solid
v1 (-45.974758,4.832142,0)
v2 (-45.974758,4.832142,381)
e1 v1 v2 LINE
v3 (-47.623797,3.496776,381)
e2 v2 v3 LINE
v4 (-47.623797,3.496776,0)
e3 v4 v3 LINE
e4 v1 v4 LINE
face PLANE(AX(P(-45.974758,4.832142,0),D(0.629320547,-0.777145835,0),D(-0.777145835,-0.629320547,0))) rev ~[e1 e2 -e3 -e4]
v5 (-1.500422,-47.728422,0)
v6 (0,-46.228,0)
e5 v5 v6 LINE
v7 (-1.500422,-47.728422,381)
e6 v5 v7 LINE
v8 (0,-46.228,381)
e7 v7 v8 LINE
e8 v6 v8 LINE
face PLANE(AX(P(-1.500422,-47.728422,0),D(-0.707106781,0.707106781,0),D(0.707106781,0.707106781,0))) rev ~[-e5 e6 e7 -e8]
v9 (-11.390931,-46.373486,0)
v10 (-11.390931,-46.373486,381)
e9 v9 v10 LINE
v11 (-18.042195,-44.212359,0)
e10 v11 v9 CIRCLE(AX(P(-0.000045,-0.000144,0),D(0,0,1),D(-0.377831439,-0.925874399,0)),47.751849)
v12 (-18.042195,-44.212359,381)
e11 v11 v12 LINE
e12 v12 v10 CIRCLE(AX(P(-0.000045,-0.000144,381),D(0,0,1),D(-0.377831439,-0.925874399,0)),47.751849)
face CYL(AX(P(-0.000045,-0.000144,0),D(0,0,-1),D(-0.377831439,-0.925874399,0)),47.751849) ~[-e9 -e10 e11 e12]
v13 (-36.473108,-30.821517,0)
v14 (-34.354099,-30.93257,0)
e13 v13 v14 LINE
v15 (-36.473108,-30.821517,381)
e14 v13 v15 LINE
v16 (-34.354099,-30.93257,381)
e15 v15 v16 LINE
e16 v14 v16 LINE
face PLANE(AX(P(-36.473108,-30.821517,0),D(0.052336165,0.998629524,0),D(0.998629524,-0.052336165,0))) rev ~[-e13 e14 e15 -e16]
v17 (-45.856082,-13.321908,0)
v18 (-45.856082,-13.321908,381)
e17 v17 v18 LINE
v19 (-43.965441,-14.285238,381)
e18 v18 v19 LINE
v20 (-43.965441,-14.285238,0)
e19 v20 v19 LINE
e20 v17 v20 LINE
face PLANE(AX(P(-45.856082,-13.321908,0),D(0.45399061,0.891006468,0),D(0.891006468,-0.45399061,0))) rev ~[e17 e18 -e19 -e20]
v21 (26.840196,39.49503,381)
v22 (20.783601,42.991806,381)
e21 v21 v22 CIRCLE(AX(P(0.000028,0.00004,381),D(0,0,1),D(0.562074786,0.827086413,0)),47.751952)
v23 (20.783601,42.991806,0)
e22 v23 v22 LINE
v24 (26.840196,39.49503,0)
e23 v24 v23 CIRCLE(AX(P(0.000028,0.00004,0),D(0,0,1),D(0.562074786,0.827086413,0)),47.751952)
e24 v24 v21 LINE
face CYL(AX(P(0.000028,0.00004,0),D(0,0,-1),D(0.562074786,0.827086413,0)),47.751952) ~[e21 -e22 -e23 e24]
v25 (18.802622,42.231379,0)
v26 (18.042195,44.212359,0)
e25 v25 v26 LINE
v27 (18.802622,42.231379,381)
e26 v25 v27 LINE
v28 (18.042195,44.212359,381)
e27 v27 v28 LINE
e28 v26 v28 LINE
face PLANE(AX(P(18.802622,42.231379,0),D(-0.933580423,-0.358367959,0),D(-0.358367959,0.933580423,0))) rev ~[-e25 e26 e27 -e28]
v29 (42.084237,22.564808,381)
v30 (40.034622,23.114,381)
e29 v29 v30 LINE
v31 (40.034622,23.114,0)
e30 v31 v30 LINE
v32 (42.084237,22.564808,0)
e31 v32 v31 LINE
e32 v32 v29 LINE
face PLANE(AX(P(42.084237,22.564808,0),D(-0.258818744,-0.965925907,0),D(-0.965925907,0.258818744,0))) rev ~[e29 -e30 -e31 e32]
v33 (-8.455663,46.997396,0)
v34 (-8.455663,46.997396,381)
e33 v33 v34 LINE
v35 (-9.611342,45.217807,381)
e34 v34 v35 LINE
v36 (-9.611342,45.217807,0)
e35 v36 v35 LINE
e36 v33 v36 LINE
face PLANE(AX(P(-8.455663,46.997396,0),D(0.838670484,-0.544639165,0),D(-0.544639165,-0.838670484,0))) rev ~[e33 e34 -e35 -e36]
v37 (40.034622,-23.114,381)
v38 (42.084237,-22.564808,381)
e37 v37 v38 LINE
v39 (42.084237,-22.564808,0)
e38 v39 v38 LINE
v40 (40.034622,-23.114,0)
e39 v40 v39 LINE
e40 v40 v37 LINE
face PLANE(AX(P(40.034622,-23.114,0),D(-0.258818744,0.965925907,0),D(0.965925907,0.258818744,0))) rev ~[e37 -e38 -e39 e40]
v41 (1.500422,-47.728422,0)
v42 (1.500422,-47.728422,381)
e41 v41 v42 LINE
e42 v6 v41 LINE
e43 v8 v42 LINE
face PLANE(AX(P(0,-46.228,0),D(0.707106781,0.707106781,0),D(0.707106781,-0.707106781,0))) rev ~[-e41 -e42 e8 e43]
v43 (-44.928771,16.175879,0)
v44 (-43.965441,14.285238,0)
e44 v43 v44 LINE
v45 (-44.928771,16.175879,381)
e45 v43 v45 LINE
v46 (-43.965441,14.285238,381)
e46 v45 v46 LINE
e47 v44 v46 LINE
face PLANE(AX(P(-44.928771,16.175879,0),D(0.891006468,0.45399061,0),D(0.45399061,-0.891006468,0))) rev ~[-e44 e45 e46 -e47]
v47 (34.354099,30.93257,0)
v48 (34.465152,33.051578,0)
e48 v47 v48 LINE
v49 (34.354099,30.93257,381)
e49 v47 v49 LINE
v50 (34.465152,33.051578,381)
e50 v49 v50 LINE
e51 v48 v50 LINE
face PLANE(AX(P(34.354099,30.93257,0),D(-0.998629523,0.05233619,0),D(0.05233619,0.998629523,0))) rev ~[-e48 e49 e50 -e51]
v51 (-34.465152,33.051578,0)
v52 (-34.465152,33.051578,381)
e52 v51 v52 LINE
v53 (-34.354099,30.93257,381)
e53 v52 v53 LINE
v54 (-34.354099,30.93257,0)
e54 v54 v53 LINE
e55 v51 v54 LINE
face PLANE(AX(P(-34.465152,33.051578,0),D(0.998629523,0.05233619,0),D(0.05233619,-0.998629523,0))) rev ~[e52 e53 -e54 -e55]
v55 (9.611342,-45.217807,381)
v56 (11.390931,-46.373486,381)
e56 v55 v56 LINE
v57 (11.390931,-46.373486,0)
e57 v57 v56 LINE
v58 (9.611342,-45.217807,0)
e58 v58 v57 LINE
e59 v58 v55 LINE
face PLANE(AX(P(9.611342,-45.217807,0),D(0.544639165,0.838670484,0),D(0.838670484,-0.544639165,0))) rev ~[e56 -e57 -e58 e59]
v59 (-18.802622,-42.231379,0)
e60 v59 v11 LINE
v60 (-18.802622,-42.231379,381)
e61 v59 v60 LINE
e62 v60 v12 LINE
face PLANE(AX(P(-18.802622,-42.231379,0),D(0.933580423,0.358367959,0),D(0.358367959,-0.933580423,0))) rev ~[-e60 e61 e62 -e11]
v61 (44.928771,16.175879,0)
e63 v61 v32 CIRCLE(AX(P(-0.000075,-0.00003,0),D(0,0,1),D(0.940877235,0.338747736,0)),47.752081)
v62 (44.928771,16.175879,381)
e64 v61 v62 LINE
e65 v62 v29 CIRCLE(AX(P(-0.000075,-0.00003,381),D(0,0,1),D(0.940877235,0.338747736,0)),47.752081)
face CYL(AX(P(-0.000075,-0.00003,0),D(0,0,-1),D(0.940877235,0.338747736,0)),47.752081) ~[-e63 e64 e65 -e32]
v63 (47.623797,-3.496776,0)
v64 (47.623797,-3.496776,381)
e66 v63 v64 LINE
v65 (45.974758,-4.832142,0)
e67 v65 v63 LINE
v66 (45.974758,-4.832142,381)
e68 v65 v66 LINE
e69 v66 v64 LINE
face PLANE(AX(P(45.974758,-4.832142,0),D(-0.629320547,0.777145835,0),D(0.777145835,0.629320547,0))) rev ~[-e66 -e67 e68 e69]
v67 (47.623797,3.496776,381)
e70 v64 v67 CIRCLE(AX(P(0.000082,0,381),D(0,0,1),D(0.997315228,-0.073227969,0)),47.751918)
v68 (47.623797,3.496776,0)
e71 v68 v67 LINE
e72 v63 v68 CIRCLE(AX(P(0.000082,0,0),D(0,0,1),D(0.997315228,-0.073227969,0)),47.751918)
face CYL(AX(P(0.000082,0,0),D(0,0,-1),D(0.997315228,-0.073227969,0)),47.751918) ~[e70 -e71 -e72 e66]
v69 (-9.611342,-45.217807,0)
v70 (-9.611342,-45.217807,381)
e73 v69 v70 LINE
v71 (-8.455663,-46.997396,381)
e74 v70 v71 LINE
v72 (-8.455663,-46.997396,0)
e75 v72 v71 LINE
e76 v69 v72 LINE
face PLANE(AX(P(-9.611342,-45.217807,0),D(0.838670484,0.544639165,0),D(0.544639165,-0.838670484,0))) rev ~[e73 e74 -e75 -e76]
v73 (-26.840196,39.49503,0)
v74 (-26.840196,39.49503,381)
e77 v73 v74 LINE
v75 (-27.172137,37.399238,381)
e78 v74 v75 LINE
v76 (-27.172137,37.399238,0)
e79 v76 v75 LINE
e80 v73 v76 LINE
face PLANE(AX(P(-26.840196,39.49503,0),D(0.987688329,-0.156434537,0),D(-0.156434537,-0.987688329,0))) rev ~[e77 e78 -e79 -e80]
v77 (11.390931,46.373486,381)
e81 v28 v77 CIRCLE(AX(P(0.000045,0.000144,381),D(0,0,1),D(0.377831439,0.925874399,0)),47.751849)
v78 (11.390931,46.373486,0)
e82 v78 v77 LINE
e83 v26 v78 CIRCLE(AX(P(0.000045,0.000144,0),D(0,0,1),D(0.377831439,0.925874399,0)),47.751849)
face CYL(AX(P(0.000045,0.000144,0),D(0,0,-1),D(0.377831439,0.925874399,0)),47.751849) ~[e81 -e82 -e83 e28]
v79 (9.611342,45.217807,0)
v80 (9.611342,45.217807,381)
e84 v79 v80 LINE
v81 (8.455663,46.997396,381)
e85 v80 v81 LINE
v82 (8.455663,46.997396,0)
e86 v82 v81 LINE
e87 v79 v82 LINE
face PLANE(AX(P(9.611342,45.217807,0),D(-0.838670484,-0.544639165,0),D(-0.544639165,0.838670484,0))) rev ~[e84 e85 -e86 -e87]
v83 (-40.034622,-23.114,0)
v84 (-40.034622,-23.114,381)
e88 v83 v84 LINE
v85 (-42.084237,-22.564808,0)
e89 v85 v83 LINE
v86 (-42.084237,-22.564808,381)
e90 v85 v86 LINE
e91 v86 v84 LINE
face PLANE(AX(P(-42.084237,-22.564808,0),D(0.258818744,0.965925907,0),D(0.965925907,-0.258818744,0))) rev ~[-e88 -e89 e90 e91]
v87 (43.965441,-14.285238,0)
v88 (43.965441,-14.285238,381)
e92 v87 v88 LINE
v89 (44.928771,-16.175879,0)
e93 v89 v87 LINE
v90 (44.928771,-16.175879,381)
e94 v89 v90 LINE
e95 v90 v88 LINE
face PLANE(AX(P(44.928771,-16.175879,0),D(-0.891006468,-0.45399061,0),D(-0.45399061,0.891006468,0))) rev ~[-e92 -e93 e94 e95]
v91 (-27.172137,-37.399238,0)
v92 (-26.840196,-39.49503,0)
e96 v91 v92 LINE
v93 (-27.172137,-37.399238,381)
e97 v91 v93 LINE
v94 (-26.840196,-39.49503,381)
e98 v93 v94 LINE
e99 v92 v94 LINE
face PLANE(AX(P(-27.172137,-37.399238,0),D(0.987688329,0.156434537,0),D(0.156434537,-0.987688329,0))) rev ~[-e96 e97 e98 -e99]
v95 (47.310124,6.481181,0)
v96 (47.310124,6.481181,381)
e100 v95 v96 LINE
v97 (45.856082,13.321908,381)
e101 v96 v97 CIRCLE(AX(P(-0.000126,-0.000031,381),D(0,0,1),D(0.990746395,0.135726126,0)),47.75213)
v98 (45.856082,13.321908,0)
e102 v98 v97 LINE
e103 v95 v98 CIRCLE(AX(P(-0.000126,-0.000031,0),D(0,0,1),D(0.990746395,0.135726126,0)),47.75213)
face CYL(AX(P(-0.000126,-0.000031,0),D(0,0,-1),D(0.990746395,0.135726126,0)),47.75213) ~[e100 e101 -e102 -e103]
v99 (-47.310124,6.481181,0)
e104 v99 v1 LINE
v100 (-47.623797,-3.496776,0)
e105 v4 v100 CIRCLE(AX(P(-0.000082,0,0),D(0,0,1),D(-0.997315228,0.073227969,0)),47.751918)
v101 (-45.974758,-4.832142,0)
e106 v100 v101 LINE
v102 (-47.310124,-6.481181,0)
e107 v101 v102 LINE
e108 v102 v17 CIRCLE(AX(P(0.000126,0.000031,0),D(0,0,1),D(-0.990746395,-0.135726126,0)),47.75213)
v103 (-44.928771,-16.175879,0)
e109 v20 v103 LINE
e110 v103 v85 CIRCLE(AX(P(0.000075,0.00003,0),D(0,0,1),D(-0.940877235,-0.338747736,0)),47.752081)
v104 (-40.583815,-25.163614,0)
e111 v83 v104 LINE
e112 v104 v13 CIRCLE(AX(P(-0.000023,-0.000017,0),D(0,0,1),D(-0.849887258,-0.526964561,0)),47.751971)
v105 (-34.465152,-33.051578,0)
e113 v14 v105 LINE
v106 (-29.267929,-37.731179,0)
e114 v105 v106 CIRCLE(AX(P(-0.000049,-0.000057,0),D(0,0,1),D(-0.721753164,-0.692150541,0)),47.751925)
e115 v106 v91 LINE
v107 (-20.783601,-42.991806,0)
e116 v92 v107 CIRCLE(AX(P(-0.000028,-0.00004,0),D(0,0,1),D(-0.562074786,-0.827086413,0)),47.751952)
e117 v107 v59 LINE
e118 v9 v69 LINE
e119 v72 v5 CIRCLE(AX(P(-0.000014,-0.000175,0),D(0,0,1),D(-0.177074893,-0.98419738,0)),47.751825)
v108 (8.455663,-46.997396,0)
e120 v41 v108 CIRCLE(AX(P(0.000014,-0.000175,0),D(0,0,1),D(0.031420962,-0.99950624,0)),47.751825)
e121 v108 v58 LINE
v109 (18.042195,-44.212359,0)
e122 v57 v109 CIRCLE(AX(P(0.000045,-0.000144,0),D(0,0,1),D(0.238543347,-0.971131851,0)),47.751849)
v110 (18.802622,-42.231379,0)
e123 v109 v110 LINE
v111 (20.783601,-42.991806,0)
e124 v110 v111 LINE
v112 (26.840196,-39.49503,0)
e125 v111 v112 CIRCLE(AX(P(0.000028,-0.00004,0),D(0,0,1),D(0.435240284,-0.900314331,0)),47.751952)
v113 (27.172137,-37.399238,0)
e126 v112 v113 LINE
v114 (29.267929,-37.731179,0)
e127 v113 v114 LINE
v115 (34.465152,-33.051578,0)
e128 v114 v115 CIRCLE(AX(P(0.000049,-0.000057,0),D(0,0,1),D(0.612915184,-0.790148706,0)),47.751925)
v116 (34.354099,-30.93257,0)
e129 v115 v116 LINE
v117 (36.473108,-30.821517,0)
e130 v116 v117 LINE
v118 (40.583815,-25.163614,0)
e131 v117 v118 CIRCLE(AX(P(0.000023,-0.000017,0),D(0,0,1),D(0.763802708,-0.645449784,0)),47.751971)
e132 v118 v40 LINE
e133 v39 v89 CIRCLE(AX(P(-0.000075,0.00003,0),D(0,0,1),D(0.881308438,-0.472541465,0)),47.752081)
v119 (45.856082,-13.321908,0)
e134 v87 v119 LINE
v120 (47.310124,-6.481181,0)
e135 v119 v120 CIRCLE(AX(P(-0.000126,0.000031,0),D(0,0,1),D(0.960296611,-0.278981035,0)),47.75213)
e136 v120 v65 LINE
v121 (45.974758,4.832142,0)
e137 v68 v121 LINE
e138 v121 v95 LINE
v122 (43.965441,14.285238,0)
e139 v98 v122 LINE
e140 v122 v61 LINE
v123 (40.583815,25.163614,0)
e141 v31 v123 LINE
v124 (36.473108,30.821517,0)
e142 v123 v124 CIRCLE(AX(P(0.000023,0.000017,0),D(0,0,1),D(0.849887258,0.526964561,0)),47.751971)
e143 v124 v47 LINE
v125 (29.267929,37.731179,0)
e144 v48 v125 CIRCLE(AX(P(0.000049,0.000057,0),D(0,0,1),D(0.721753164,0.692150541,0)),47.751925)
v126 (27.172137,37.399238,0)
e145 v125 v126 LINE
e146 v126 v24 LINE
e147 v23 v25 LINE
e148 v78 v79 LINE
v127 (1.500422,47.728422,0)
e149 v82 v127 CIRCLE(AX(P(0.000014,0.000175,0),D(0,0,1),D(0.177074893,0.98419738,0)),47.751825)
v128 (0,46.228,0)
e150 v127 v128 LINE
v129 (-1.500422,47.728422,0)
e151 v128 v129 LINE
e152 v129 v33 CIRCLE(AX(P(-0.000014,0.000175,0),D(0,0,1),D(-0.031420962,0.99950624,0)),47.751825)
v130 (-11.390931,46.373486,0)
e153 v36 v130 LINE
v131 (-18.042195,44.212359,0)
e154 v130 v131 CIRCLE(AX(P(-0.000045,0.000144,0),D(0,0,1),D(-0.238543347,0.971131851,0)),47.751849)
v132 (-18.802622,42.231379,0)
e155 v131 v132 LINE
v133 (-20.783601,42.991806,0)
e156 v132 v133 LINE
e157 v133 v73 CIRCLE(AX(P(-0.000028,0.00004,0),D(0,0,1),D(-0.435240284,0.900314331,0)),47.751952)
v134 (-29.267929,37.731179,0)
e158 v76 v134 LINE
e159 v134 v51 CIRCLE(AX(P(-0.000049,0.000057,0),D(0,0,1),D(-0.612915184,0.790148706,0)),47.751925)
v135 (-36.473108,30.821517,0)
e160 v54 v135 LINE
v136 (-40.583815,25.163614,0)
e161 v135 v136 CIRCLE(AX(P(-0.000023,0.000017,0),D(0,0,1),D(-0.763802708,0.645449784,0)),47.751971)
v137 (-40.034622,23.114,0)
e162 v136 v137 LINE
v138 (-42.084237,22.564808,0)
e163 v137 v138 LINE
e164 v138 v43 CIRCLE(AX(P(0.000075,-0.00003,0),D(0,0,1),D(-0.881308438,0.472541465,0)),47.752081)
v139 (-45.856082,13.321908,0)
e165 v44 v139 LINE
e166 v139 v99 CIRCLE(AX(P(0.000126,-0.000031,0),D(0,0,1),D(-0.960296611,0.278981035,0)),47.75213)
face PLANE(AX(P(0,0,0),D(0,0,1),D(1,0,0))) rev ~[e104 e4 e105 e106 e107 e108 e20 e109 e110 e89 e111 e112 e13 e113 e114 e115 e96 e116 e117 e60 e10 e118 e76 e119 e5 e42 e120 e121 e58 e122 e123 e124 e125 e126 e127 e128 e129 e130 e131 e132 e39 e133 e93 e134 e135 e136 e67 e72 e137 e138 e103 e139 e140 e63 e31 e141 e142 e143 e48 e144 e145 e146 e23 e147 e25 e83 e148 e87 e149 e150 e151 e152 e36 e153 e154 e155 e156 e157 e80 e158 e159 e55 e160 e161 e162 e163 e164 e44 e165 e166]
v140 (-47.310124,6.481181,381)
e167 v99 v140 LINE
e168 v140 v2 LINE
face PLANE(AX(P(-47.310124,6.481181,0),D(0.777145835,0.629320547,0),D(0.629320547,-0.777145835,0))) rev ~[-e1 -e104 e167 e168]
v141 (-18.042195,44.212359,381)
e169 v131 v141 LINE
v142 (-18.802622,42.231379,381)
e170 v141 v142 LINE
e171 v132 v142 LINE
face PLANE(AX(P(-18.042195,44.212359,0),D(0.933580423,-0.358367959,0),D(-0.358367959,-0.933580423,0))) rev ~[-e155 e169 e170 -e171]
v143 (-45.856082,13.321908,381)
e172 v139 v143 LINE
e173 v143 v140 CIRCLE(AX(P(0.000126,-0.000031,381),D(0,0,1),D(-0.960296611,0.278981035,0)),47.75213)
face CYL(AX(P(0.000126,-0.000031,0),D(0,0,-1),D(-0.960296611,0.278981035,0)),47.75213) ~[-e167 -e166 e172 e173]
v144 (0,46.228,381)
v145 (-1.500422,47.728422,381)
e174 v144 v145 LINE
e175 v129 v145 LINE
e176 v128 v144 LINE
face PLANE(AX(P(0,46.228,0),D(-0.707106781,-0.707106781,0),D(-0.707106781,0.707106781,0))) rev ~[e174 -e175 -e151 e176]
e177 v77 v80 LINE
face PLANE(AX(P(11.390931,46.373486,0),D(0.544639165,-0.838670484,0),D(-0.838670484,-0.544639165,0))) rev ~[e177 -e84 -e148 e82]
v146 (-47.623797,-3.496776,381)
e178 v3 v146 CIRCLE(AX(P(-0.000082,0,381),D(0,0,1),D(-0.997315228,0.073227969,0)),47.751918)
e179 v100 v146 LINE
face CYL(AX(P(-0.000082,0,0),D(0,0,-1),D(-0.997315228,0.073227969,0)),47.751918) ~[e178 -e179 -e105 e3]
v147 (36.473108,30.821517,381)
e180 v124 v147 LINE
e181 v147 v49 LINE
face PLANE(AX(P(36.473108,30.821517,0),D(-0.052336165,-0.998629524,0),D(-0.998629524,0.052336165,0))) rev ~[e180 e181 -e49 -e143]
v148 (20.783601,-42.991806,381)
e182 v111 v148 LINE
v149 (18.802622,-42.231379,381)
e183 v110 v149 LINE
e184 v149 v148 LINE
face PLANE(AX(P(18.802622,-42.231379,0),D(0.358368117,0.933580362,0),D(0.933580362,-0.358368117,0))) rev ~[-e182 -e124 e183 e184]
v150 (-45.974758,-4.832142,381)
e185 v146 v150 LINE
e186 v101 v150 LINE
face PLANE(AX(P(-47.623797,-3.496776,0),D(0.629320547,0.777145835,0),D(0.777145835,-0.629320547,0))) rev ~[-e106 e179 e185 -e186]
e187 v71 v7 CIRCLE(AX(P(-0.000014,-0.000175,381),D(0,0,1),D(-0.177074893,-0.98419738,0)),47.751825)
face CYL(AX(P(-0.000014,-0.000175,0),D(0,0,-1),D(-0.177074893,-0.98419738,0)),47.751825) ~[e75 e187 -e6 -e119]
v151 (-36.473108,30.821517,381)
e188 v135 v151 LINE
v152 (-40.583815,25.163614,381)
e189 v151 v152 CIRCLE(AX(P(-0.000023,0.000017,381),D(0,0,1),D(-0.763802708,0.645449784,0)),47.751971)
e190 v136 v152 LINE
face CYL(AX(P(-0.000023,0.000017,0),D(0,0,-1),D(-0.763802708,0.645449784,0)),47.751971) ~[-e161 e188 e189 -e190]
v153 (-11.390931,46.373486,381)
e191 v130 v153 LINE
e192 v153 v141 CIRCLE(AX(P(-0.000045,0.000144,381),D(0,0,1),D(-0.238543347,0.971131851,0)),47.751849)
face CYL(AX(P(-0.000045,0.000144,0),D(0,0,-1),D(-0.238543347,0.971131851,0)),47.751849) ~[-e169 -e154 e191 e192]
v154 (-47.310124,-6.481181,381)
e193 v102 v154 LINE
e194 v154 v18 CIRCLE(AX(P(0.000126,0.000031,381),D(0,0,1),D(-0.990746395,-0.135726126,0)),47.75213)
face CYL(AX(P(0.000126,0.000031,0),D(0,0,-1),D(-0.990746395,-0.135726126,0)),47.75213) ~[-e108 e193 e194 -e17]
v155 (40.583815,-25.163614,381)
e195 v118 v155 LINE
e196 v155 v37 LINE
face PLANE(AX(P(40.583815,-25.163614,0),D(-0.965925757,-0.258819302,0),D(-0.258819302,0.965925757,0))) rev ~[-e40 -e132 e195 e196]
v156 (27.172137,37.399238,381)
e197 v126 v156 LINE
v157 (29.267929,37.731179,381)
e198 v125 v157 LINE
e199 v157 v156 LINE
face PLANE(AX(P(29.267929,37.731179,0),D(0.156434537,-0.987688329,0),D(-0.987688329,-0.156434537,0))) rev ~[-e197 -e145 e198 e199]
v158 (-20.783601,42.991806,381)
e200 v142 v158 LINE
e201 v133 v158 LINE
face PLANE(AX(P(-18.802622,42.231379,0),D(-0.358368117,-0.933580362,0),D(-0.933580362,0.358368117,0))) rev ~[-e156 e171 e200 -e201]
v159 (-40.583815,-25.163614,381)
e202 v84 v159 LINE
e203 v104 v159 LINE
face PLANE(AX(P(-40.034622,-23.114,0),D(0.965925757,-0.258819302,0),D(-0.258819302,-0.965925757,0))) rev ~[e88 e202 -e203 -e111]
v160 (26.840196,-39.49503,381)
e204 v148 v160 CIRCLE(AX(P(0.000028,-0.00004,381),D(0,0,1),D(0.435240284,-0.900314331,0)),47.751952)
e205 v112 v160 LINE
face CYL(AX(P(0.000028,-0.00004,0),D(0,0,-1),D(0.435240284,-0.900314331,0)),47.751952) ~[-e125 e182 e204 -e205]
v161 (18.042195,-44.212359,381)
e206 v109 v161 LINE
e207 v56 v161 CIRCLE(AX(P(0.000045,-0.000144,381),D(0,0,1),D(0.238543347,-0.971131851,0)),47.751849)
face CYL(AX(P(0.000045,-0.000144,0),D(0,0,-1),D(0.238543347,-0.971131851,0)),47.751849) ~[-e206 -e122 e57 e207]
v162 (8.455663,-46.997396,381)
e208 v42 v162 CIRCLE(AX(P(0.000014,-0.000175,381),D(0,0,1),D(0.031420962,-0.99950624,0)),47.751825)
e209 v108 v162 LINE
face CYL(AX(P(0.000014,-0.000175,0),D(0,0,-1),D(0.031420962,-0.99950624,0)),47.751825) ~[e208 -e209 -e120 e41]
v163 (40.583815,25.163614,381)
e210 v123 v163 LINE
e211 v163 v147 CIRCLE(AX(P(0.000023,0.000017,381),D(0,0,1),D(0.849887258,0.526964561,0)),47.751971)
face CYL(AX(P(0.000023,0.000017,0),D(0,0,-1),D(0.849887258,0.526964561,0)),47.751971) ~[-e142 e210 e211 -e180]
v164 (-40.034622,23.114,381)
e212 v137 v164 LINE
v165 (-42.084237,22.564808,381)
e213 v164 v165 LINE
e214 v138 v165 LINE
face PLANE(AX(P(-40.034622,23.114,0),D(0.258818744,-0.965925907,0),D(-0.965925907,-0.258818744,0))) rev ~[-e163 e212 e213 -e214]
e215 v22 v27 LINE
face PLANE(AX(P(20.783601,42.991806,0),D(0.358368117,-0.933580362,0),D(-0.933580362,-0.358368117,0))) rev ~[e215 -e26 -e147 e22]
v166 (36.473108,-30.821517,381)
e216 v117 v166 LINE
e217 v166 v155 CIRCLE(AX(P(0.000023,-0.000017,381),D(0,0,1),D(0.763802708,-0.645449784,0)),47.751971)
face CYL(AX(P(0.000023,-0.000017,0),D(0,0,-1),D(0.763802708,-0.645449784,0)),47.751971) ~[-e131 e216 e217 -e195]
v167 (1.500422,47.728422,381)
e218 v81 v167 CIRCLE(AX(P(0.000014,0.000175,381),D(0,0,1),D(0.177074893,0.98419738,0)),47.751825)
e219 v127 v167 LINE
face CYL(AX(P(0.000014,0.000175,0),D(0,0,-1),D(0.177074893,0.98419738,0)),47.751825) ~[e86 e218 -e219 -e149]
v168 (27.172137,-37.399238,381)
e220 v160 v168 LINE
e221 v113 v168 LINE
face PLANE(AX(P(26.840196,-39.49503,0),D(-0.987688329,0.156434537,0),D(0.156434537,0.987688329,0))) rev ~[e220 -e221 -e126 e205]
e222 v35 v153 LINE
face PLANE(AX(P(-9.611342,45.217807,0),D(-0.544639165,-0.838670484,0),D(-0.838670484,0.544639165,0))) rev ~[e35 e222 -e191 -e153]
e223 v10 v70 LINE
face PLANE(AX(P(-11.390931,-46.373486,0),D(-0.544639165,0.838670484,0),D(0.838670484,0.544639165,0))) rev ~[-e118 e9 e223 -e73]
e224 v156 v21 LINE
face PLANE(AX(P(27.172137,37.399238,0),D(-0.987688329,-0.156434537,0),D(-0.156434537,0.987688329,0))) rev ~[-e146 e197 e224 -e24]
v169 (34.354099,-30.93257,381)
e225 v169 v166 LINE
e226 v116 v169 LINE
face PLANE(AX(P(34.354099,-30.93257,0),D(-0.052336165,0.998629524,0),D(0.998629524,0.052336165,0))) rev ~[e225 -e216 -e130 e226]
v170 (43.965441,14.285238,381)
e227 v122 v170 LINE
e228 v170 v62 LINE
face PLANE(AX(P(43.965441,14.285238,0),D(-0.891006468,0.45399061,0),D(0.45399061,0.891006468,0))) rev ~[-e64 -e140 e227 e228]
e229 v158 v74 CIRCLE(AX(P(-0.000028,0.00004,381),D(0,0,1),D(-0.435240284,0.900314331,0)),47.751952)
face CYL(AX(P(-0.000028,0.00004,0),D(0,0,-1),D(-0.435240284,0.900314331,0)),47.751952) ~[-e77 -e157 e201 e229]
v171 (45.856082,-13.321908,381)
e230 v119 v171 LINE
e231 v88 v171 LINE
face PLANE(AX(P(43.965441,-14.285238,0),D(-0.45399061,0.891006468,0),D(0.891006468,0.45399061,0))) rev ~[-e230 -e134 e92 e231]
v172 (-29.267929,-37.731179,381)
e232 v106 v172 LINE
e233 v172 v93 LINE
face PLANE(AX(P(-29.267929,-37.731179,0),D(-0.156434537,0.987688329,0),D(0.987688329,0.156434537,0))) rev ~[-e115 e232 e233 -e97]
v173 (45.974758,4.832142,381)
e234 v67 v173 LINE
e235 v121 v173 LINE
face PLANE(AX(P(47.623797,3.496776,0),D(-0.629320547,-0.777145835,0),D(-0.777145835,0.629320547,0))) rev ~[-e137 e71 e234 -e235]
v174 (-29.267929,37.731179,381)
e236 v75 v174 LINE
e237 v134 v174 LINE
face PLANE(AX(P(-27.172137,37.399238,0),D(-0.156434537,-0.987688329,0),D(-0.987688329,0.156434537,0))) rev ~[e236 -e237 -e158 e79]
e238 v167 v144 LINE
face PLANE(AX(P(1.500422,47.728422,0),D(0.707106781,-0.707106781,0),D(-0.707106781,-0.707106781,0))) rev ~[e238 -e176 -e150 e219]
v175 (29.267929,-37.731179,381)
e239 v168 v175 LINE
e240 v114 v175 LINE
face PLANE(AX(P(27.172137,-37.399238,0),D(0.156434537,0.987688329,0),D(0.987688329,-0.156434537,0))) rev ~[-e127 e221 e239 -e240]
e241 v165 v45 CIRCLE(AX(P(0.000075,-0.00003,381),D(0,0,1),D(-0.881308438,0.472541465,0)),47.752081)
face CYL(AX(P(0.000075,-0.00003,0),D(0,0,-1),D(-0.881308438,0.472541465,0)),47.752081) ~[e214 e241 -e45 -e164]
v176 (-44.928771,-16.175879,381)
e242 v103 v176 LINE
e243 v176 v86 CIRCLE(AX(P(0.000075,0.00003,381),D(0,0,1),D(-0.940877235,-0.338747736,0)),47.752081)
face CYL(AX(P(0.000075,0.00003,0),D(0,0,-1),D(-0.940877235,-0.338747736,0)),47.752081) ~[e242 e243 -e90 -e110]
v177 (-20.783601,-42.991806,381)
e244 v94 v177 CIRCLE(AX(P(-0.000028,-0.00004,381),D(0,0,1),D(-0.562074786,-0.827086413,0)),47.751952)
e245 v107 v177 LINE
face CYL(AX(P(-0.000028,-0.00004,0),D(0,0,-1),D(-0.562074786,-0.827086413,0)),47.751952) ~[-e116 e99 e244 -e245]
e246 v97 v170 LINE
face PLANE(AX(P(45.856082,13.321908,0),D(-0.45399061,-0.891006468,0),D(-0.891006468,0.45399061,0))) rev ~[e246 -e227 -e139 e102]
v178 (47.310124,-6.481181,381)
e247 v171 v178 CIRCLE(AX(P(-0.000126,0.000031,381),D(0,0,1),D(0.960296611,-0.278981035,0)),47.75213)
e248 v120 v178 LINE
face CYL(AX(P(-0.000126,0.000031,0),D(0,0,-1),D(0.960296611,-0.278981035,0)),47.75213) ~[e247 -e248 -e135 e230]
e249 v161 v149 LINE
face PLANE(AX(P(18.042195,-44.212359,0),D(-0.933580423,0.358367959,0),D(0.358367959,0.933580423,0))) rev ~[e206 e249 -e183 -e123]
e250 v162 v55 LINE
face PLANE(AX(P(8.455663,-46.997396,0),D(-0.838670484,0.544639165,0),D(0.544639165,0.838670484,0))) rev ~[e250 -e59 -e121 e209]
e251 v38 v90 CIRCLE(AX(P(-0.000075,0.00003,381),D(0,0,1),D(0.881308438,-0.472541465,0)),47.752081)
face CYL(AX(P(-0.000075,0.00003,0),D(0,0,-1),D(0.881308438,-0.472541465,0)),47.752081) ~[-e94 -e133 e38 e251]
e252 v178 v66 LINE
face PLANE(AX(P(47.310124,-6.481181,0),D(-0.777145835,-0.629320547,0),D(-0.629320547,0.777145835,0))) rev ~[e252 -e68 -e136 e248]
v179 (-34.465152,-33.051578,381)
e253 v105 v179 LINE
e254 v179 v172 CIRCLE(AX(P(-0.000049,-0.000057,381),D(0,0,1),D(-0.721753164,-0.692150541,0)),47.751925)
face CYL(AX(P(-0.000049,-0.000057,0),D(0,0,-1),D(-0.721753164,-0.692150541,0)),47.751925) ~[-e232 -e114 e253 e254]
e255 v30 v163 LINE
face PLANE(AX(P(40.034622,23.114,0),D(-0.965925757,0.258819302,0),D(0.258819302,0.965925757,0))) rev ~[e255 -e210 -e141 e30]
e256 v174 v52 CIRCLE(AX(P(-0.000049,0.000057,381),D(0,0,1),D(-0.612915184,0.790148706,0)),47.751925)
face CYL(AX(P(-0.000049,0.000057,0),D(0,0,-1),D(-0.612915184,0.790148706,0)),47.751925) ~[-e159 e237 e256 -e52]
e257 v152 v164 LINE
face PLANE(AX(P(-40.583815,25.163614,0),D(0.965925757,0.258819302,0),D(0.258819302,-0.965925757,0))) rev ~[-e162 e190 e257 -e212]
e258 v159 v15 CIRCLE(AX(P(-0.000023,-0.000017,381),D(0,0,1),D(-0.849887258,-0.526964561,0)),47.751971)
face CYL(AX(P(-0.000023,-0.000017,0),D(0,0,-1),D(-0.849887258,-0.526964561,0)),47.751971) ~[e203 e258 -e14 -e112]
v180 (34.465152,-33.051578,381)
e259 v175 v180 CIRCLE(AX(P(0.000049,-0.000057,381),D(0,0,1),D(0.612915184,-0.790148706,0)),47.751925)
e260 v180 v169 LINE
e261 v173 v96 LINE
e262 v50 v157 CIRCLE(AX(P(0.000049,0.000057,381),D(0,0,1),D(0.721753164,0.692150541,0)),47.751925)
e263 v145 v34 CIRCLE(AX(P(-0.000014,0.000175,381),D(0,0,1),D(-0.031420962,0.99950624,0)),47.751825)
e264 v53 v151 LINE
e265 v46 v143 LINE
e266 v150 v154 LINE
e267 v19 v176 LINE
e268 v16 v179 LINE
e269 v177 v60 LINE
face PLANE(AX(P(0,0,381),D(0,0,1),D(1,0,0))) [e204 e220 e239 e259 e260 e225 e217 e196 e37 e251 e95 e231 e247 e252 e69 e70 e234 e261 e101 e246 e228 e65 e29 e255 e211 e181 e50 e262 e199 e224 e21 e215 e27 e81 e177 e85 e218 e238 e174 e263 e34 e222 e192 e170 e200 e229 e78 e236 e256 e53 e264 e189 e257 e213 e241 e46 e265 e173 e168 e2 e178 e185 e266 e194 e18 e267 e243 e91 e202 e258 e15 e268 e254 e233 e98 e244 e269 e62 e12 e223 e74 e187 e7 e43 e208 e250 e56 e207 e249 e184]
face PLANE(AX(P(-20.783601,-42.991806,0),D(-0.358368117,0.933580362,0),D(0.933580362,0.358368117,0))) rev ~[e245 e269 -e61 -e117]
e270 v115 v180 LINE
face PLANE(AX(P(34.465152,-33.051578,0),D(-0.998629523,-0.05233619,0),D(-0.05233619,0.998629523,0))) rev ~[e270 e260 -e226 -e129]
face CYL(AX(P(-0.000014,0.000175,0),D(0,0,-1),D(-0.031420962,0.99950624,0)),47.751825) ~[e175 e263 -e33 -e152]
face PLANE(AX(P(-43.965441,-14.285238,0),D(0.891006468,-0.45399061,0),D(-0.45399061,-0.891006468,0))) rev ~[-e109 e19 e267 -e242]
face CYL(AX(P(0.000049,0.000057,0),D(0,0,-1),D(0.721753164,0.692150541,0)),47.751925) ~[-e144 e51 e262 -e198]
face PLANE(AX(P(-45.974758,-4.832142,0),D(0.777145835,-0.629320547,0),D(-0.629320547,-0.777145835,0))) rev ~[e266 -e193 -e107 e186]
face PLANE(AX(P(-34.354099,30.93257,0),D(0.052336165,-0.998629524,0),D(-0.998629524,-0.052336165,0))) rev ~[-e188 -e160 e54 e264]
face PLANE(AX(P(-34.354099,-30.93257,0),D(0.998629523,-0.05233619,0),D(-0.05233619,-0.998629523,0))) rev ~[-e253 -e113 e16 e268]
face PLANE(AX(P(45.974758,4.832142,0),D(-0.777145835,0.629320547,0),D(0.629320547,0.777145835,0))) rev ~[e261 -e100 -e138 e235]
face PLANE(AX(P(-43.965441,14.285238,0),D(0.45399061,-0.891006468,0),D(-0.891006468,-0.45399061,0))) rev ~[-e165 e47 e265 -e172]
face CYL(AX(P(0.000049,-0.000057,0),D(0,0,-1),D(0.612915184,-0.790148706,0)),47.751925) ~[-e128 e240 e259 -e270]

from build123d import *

# Parameters (mm, degrees)
F1_DEPTH = 381


with BuildPart() as f1:
    # F0 (on Top) → F1 (new body)
    with BuildSketch(Plane.XY):
        with BuildLine():
            Line((0, -46.228), (1.500422, -47.728422))
            ThreePointArc((1.500422, -47.728422), (4.991443, -47.49041), (8.455663, -46.997396))
            Line((8.455663, -46.997396), (9.611342, -45.217807))
            Line((9.611342, -45.217807), (11.390931, -46.373486))
            ThreePointArc((11.390931, -46.373486), (14.75618, -45.414851), (18.042195, -44.212359))
            Line((18.042195, -44.212359), (18.802622, -42.231379))
            Line((18.802622, -42.231379), (20.783601, -42.991806))
            ThreePointArc((20.783601, -42.991806), (23.876, -41.354445), (26.840196, -39.49503))
            Line((26.840196, -39.49503), (27.172137, -37.399238))
            Line((27.172137, -37.399238), (29.267929, -37.731179))
            ThreePointArc((29.267929, -37.731179), (31.952325, -35.486652), (34.465152, -33.051578))
            Line((34.465152, -33.051578), (34.354099, -30.93257))
            Line((34.354099, -30.93257), (36.473108, -30.821517))
            ThreePointArc((36.473108, -30.821517), (38.63218, -28.067921), (40.583815, -25.163614))
            Line((40.583815, -25.163614), (40.034622, -23.114))
            Line((40.034622, -23.114), (42.084237, -22.564808))
            ThreePointArc((42.084237, -22.564808), (43.623623, -19.422488), (44.928771, -16.175879))
            Line((44.928771, -16.175879), (43.965441, -14.285238))
            Line((43.965441, -14.285238), (45.856082, -13.321908))
            ThreePointArc((45.856082, -13.321908), (46.708504, -9.928199), (47.310124, -6.481181))
            Line((47.310124, -6.481181), (45.974758, -4.832142))
            Line((45.974758, -4.832142), (47.623797, -3.496776))
            ThreePointArc((47.623797, -3.496776), (47.752, 0), (47.623797, 3.496776))
            Line((47.623797, 3.496776), (45.974758, 4.832142))
            Line((45.974758, 4.832142), (47.310124, 6.481181))
            ThreePointArc((47.310124, 6.481181), (46.708504, 9.928199), (45.856082, 13.321908))
            Line((45.856082, 13.321908), (43.965441, 14.285238))
            Line((43.965441, 14.285238), (44.928771, 16.175879))
            ThreePointArc((44.928771, 16.175879), (43.623623, 19.422488), (42.084237, 22.564808))
            Line((42.084237, 22.564808), (40.034622, 23.114))
            Line((40.034622, 23.114), (40.583815, 25.163614))
            ThreePointArc((40.583815, 25.163614), (38.63218, 28.067921), (36.473108, 30.821517))
            Line((36.473108, 30.821517), (34.354099, 30.93257))
            Line((34.354099, 30.93257), (34.465152, 33.051578))
            ThreePointArc((34.465152, 33.051578), (31.952325, 35.486652), (29.267929, 37.731179))
            Line((29.267929, 37.731179), (27.172137, 37.399238))
            Line((27.172137, 37.399238), (26.840196, 39.49503))
            ThreePointArc((26.840196, 39.49503), (23.876, 41.354445), (20.783601, 42.991806))
            Line((20.783601, 42.991806), (18.802622, 42.231379))
            Line((18.802622, 42.231379), (18.042195, 44.212359))
            ThreePointArc((18.042195, 44.212359), (14.75618, 45.414851), (11.390931, 46.373486))
            Line((11.390931, 46.373486), (9.611342, 45.217807))
            Line((9.611342, 45.217807), (8.455663, 46.997396))
            ThreePointArc((8.455663, 46.997396), (4.991443, 47.49041), (1.500422, 47.728422))
            Line((1.500422, 47.728422), (0, 46.228))
            Line((0, 46.228), (-1.500422, 47.728422))
            ThreePointArc((-1.500422, 47.728422), (-4.991443, 47.49041), (-8.455663, 46.997396))
            Line((-8.455663, 46.997396), (-9.611342, 45.217807))
            Line((-9.611342, 45.217807), (-11.390931, 46.373486))
            ThreePointArc((-11.390931, 46.373486), (-14.75618, 45.414851), (-18.042195, 44.212359))
            Line((-18.042195, 44.212359), (-18.802622, 42.231379))
            Line((-18.802622, 42.231379), (-20.783601, 42.991806))
            ThreePointArc((-20.783601, 42.991806), (-23.876, 41.354445), (-26.840196, 39.49503))
            Line((-26.840196, 39.49503), (-27.172137, 37.399238))
            Line((-27.172137, 37.399238), (-29.267929, 37.731179))
            ThreePointArc((-29.267929, 37.731179), (-31.952325, 35.486652), (-34.465152, 33.051578))
            Line((-34.465152, 33.051578), (-34.354099, 30.93257))
            Line((-34.354099, 30.93257), (-36.473108, 30.821517))
            ThreePointArc((-36.473108, 30.821517), (-38.63218, 28.067921), (-40.583815, 25.163614))
            Line((-40.583815, 25.163614), (-40.034622, 23.114))
            Line((-40.034622, 23.114), (-42.084237, 22.564808))
            ThreePointArc((-42.084237, 22.564808), (-43.623623, 19.422488), (-44.928771, 16.175879))
            Line((-44.928771, 16.175879), (-43.965441, 14.285238))
            Line((-43.965441, 14.285238), (-45.856082, 13.321908))
            ThreePointArc((-45.856082, 13.321908), (-46.708504, 9.928199), (-47.310124, 6.481181))
            Line((-47.310124, 6.481181), (-45.974758, 4.832142))
            Line((-45.974758, 4.832142), (-47.623797, 3.496776))
            ThreePointArc((-47.623797, 3.496776), (-47.752, 0), (-47.623797, -3.496776))
            Line((-47.623797, -3.496776), (-45.974758, -4.832142))
            Line((-45.974758, -4.832142), (-47.310124, -6.481181))
            ThreePointArc((-47.310124, -6.481181), (-46.708504, -9.928199), (-45.856082, -13.321908))
            Line((-45.856082, -13.321908), (-43.965441, -14.285238))
            Line((-43.965441, -14.285238), (-44.928771, -16.175879))
            ThreePointArc((-44.928771, -16.175879), (-43.623623, -19.422488), (-42.084237, -22.564808))
            Line((-42.084237, -22.564808), (-40.034622, -23.114))
            Line((-40.034622, -23.114), (-40.583815, -25.163614))
            ThreePointArc((-40.583815, -25.163614), (-38.63218, -28.067921), (-36.473108, -30.821517))
            Line((-36.473108, -30.821517), (-34.354099, -30.93257))
            Line((-34.354099, -30.93257), (-34.465152, -33.051578))
            ThreePointArc((-34.465152, -33.051578), (-31.952325, -35.486652), (-29.267929, -37.731179))
            Line((-29.267929, -37.731179), (-27.172137, -37.399238))
            Line((-27.172137, -37.399238), (-26.840196, -39.49503))
            ThreePointArc((-26.840196, -39.49503), (-23.876, -41.354445), (-20.783601, -42.991806))
            Line((-20.783601, -42.991806), (-18.802622, -42.231379))
            Line((-18.802622, -42.231379), (-18.042195, -44.212359))
            ThreePointArc((-18.042195, -44.212359), (-14.75618, -45.414851), (-11.390931, -46.373486))
            Line((-11.390931, -46.373486), (-9.611342, -45.217807))
            Line((-9.611342, -45.217807), (-8.455663, -46.997396))
            ThreePointArc((-8.455663, -46.997396), (-4.991443, -47.49041), (-1.500422, -47.728422))
            Line((-1.500422, -47.728422), (0, -46.228))
        make_face()
    extrude(amount=F1_DEPTH)


solid = f1.part
